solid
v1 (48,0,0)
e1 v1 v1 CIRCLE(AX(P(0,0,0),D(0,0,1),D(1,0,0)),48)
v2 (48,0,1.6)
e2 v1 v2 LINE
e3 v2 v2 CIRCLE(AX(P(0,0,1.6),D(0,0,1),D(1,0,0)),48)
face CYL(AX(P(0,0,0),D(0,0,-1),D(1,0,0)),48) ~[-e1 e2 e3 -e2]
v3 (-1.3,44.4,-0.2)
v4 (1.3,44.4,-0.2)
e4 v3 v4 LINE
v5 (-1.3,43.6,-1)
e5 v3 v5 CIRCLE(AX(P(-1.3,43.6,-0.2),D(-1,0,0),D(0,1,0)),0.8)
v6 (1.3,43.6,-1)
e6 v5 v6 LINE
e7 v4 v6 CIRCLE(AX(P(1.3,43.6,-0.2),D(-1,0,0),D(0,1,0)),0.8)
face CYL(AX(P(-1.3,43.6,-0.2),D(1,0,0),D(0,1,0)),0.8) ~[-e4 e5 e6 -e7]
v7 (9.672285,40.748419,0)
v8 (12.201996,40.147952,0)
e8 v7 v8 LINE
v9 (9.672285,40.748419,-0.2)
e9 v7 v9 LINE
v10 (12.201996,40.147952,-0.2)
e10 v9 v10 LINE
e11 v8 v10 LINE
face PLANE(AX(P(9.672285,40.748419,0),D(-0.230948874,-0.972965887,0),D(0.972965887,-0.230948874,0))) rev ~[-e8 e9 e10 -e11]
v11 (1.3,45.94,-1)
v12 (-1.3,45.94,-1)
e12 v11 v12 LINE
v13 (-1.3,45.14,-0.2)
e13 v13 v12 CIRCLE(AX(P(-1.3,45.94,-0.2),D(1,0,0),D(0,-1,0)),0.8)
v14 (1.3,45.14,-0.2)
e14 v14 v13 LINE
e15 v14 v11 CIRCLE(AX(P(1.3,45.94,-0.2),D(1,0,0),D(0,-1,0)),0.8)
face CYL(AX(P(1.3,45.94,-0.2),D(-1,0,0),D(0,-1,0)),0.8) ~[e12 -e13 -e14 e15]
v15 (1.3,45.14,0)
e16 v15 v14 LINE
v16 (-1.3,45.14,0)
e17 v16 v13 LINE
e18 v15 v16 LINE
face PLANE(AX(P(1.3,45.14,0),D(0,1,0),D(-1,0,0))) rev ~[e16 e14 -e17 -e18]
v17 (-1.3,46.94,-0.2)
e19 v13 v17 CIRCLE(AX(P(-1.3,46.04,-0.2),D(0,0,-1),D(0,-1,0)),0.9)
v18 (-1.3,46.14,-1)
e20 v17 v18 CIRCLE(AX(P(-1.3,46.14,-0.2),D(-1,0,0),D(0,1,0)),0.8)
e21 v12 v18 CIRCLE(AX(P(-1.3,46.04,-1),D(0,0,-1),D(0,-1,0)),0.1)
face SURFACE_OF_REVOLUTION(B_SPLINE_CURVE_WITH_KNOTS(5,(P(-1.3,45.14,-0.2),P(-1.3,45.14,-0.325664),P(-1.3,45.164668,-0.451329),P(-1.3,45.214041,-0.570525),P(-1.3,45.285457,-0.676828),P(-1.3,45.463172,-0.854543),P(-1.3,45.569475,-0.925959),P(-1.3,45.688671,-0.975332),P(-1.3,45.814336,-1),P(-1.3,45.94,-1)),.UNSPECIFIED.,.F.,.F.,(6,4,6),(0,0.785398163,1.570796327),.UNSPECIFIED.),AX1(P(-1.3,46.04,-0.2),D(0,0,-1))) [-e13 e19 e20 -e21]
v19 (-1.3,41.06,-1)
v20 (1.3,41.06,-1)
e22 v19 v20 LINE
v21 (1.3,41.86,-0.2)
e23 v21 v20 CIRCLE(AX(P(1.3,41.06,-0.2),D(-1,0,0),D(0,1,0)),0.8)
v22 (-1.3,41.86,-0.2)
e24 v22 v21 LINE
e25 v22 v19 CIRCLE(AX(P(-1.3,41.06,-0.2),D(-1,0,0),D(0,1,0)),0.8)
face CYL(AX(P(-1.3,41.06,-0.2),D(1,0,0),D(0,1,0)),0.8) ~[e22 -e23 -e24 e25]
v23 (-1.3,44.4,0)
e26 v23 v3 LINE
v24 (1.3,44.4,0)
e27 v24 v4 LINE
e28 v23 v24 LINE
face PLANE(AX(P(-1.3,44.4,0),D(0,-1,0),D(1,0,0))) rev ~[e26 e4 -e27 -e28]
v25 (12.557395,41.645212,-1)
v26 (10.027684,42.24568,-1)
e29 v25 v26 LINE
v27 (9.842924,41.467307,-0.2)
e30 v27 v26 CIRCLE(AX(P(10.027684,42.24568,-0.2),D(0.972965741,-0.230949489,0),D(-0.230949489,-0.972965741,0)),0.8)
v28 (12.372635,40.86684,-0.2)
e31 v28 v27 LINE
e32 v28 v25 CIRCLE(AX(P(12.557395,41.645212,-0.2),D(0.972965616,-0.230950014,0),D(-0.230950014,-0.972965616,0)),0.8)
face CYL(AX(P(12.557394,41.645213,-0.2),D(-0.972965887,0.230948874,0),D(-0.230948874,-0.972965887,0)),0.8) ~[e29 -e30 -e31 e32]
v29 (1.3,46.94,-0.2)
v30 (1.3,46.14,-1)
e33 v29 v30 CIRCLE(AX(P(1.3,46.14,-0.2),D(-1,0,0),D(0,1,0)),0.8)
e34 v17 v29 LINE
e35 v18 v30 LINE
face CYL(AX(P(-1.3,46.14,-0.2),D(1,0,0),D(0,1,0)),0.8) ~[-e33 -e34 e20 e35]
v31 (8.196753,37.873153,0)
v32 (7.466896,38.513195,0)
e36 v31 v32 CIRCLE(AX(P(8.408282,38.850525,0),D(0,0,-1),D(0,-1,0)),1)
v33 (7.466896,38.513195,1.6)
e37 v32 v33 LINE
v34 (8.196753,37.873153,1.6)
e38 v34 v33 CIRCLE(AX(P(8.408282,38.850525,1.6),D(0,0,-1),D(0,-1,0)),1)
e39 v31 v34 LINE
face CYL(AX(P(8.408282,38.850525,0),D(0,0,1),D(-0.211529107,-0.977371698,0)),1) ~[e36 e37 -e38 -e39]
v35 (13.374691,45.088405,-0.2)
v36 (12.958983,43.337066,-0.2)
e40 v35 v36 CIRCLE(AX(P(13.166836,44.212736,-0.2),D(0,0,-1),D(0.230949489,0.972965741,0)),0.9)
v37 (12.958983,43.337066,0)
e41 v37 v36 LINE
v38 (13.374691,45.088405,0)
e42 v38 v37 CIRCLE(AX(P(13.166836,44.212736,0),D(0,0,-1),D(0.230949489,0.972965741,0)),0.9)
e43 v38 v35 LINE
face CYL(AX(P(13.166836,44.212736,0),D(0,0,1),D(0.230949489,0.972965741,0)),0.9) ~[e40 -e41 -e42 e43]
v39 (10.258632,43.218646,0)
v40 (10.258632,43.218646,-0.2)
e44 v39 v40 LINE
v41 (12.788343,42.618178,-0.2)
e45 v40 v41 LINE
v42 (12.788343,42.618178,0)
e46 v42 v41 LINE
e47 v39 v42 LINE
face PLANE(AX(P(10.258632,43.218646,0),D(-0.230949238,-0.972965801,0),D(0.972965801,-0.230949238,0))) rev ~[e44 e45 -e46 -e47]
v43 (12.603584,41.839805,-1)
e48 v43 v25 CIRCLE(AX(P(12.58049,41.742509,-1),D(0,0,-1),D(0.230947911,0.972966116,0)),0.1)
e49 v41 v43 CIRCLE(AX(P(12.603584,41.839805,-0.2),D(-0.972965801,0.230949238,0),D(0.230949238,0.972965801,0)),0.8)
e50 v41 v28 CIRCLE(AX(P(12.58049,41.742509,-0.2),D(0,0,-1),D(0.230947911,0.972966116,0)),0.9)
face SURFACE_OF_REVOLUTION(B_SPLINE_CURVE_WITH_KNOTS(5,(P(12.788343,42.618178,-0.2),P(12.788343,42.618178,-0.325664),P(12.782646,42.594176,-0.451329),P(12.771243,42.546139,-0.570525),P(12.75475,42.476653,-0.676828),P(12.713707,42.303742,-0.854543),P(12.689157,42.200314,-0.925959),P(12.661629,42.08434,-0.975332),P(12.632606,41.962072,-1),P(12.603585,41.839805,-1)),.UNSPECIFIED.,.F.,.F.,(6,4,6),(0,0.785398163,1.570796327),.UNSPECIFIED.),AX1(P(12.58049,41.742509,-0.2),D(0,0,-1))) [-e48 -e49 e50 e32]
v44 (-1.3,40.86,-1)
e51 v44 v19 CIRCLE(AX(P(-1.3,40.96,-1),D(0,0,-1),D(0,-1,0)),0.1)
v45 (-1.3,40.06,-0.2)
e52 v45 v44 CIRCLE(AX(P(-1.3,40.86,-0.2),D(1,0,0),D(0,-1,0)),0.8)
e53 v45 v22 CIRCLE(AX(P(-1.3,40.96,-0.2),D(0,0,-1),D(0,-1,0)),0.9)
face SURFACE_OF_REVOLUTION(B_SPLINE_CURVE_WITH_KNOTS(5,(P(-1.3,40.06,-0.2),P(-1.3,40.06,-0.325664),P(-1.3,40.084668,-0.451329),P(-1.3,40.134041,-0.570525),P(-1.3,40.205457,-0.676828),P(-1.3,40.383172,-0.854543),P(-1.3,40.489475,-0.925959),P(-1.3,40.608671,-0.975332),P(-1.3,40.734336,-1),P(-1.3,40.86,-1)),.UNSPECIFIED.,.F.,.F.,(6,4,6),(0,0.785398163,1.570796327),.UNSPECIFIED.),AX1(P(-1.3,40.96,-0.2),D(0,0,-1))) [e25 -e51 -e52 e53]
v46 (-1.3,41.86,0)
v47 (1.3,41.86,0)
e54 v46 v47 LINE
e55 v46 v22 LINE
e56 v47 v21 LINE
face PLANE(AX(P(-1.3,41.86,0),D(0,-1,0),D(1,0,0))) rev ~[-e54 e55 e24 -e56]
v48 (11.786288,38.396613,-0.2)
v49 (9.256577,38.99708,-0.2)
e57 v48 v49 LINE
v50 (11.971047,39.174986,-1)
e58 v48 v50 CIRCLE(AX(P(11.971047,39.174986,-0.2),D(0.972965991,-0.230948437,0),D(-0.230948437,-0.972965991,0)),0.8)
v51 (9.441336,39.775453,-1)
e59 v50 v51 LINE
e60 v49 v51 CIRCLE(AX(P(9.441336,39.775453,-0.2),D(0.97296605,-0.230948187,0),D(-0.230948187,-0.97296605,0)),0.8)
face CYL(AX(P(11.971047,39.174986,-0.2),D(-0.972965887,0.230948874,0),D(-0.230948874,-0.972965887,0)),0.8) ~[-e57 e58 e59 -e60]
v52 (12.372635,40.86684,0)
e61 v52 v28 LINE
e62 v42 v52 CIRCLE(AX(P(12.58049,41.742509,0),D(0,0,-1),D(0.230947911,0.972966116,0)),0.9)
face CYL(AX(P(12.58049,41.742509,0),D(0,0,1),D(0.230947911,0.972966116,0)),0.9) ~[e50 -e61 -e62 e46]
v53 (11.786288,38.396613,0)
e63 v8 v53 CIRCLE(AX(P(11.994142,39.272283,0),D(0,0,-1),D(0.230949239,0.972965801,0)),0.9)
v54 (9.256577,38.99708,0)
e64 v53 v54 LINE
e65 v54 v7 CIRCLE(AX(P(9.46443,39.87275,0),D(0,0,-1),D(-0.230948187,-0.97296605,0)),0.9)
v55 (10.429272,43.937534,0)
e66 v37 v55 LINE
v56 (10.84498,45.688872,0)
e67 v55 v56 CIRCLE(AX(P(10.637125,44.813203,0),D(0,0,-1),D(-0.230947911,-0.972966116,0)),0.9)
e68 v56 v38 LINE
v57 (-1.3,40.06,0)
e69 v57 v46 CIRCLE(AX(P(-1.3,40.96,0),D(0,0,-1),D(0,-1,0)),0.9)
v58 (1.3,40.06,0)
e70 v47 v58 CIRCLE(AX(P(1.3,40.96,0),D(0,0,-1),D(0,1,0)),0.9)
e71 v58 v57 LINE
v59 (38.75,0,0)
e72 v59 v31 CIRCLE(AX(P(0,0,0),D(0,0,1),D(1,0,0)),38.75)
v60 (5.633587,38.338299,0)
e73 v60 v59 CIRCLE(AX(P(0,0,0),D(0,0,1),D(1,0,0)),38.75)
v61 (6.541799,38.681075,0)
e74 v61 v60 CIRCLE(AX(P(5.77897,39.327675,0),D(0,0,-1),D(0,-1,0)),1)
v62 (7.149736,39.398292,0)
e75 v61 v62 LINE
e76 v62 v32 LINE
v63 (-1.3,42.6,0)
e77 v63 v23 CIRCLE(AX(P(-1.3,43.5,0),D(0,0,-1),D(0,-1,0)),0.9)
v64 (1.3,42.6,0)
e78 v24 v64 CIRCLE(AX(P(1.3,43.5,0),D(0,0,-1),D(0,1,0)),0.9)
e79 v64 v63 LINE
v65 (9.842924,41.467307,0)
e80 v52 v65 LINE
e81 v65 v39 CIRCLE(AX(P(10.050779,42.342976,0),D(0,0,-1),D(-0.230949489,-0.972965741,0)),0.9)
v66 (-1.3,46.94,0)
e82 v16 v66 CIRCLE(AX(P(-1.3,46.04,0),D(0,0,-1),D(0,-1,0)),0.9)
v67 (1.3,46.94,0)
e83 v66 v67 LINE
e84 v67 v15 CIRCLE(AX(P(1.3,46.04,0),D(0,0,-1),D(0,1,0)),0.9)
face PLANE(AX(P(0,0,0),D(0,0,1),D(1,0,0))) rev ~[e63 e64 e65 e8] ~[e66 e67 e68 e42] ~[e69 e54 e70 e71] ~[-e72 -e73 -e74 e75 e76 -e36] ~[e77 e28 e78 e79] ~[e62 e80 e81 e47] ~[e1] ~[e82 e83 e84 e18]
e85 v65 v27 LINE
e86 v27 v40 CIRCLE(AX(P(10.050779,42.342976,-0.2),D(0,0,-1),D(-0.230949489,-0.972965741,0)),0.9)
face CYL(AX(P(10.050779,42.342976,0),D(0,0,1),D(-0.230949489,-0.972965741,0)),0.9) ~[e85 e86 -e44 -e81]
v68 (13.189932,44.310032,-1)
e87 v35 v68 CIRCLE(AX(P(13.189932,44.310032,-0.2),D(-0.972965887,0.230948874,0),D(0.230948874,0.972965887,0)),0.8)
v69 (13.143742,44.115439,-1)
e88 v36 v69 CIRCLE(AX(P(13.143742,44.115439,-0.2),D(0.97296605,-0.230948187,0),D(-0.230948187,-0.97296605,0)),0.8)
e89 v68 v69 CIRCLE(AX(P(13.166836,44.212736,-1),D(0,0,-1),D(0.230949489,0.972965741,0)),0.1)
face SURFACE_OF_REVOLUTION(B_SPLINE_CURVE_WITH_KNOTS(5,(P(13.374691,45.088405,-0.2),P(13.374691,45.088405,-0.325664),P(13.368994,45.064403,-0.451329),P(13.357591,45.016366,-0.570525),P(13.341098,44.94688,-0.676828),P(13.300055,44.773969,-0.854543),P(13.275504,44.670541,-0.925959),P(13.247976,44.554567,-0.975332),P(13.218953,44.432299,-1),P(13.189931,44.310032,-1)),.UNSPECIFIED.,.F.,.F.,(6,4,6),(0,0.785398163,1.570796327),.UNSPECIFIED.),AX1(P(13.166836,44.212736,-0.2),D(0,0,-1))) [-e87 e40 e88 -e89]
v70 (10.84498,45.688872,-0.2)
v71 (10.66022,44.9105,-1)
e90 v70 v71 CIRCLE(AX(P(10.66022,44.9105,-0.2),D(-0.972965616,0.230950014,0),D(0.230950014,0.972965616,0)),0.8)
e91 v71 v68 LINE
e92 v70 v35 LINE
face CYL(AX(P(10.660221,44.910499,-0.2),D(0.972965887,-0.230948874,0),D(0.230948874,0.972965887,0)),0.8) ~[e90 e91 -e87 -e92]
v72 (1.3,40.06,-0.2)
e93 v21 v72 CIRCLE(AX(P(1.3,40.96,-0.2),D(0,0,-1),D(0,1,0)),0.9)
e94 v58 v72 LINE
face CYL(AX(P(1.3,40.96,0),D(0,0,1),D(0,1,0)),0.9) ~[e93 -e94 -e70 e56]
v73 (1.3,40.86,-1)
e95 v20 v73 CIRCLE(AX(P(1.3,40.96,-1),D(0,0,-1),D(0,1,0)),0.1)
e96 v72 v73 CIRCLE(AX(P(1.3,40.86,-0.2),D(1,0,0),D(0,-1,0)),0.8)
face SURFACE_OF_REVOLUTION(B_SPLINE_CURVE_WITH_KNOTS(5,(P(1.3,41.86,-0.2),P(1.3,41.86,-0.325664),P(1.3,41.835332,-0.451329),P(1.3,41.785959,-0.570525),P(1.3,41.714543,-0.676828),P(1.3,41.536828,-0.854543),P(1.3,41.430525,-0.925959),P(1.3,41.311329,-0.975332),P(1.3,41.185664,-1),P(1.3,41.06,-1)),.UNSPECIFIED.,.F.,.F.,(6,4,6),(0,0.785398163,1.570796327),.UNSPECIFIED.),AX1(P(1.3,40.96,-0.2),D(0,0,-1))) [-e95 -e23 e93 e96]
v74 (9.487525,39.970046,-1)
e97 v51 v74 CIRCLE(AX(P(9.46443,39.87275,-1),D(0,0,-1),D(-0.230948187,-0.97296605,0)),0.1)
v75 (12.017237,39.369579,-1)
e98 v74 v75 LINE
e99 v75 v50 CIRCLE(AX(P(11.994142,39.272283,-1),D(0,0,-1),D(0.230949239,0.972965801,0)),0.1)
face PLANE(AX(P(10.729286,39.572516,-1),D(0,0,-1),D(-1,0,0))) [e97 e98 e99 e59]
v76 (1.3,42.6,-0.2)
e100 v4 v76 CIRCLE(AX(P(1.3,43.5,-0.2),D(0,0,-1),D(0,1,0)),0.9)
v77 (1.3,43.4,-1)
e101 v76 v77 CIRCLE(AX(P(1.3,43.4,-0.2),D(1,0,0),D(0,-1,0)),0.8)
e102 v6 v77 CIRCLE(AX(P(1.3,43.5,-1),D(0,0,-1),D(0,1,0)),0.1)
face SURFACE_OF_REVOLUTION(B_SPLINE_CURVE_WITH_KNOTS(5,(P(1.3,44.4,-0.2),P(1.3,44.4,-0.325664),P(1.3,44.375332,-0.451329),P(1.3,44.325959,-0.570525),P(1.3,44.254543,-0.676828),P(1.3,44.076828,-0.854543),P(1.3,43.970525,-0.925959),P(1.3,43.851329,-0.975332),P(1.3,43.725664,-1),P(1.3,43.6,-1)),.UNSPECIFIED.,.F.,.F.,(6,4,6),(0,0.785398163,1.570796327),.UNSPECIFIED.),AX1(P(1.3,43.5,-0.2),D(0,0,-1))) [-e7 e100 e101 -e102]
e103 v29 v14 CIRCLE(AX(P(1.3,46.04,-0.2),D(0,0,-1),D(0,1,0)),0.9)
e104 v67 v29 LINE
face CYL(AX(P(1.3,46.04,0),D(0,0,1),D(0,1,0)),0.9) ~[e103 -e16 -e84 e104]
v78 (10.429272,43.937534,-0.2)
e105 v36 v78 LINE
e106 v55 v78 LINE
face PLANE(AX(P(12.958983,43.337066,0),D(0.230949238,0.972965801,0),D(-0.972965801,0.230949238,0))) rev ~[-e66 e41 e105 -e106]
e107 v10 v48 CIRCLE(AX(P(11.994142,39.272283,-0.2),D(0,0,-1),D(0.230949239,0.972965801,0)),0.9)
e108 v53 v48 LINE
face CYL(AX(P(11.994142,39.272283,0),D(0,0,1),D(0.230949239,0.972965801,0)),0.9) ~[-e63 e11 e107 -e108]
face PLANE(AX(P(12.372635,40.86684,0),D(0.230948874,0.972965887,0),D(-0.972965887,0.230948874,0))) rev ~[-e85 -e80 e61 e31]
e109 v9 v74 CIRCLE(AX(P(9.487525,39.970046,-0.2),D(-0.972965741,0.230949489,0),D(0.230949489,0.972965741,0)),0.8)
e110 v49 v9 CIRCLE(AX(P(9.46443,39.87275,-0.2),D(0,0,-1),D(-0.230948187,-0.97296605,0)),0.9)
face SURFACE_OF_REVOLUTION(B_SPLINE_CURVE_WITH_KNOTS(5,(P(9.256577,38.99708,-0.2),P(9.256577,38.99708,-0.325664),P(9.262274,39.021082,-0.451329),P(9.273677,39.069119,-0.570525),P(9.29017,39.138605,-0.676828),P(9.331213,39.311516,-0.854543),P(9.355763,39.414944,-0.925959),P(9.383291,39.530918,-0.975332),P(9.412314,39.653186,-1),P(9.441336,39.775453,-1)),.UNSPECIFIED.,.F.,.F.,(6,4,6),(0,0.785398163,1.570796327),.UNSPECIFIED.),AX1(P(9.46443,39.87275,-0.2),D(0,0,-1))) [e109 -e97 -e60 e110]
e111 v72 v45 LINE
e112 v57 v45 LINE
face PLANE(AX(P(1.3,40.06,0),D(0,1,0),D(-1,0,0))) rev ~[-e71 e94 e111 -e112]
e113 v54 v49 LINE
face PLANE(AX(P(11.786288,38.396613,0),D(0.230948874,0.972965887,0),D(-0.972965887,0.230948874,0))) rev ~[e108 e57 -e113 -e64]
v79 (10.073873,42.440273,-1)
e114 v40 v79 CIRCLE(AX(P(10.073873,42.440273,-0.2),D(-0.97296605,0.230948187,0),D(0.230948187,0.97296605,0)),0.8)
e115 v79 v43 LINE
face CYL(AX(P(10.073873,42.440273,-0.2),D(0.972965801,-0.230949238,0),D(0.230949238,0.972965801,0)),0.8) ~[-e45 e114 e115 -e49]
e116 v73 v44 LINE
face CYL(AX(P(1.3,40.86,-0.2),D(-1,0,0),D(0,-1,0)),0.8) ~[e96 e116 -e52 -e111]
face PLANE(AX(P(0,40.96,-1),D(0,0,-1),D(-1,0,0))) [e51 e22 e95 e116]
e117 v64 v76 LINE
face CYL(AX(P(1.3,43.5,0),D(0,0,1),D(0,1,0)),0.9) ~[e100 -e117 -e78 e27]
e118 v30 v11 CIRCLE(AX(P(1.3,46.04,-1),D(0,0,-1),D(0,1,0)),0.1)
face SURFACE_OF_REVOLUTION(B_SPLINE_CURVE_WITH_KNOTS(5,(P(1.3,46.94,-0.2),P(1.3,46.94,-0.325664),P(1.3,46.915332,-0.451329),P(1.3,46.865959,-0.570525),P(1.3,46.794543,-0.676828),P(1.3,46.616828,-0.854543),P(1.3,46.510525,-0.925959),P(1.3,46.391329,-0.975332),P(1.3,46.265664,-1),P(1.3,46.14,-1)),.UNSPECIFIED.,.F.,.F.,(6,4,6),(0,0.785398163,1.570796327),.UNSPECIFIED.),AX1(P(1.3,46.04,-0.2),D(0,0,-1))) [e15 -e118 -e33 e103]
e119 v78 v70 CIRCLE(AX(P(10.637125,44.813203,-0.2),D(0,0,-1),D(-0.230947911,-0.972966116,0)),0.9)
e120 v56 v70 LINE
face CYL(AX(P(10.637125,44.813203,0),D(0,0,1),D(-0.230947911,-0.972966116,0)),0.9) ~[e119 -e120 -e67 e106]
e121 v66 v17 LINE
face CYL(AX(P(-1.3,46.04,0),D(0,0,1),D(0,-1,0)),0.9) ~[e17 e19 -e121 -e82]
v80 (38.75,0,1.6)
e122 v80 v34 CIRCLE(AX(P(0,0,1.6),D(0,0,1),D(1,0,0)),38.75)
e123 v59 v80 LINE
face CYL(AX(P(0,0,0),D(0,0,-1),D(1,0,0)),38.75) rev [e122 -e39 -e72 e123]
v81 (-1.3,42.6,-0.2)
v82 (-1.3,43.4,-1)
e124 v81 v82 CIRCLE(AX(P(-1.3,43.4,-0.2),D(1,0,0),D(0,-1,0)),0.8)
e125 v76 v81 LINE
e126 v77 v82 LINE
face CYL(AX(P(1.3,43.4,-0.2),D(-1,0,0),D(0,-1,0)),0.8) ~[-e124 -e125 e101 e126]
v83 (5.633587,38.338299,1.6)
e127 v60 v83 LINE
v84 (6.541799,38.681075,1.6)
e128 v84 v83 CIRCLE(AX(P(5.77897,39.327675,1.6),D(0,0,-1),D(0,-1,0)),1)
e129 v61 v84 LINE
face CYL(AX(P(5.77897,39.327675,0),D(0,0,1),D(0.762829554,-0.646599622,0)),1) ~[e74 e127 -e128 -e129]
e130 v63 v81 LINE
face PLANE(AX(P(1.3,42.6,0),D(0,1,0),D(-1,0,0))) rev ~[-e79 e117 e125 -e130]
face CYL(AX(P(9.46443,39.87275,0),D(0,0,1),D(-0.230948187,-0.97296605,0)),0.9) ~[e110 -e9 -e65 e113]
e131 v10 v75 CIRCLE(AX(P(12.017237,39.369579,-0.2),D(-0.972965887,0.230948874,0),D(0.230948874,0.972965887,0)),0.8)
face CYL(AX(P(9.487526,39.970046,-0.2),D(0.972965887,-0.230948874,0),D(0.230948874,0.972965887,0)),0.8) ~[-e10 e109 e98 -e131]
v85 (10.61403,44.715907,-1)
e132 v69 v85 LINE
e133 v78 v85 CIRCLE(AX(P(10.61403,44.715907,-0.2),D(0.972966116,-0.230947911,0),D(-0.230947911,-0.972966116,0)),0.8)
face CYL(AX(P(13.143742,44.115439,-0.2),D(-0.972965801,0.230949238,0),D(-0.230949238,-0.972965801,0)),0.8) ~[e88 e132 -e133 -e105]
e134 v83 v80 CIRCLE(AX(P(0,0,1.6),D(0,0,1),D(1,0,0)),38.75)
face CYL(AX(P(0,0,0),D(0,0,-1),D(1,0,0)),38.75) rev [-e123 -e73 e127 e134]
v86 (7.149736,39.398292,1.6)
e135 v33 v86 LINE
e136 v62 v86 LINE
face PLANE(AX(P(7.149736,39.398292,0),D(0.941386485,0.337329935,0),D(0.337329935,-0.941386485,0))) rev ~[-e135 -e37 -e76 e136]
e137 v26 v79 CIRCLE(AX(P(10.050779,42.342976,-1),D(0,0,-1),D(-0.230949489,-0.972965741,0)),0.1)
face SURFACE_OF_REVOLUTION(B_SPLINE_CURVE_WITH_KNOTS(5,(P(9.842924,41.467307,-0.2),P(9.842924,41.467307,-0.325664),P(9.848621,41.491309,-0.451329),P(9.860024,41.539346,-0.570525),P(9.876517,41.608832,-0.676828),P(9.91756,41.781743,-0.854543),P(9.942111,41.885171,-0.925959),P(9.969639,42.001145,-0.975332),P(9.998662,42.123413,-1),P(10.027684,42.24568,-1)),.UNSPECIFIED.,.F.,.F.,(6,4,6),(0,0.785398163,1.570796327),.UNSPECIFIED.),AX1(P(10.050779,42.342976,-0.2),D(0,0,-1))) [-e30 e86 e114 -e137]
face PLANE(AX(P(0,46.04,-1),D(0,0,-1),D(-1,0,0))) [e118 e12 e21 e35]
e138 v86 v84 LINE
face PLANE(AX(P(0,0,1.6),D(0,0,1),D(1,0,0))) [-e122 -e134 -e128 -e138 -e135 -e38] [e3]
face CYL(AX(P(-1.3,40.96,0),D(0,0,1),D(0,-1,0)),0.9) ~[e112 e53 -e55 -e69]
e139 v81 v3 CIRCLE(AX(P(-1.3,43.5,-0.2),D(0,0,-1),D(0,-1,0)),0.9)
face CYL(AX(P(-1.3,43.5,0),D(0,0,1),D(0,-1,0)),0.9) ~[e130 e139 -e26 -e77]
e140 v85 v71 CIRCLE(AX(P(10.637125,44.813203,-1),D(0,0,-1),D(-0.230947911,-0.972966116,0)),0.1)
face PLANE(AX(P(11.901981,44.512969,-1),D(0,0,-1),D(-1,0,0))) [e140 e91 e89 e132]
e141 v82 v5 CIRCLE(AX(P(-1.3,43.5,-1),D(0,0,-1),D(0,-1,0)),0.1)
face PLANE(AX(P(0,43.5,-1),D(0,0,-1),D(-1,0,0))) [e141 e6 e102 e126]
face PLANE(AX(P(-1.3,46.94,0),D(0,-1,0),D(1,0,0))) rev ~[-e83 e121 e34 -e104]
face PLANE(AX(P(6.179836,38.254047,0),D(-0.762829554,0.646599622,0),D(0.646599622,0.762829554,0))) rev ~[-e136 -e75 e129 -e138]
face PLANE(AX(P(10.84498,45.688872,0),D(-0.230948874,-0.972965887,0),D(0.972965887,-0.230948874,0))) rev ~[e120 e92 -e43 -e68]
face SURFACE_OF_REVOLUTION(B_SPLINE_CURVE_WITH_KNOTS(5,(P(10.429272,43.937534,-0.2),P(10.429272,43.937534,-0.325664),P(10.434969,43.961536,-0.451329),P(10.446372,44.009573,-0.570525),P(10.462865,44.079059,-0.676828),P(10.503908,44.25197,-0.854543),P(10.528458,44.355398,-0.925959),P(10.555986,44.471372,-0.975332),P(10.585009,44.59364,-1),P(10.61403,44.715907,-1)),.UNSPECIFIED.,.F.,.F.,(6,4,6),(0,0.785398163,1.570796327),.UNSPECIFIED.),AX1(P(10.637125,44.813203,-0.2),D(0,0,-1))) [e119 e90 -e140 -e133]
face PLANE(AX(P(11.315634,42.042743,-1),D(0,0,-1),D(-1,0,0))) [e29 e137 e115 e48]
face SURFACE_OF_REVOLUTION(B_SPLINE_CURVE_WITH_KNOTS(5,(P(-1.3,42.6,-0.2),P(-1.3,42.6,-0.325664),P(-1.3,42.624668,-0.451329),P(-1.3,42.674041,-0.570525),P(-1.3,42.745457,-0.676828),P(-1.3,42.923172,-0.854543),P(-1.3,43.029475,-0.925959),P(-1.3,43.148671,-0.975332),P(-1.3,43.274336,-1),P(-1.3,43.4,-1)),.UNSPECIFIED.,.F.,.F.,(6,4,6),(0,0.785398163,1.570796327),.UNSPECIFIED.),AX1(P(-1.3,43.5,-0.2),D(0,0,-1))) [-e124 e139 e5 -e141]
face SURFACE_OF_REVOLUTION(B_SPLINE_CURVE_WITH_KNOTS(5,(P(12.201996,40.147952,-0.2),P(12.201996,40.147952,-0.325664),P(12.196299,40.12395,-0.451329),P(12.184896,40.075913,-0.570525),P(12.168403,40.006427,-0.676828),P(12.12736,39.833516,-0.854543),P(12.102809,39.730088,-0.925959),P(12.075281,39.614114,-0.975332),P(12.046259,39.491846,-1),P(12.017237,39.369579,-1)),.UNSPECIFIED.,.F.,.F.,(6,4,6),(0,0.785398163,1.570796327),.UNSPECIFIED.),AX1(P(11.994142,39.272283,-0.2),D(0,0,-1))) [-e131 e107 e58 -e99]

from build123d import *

# Parameters (mm, degrees)
SKETCH054_R     = 48
SKETCH054_R_2   = 38.75
PAD029_DEPTH    = 1.6
PAD030_DEPTH    = 1
FILLET018_R     = 0.8
POCKET029_DEPTH = 5
FILLET020_R     = 1


with BuildPart() as part:
    # Sketch054 → Pad029 (new body)
    with BuildSketch(Plane.XY):
        Circle(SKETCH054_R)
        Circle(SKETCH054_R_2, mode=Mode.SUBTRACT)
    extrude(amount=PAD029_DEPTH)

    # Sketch055 → Pad030 (join)
    with BuildSketch(Plane(origin=(0, 0, 0), x_dir=(-1, 0, 0), z_dir=(0, 0, -1))):
        with BuildLine():
            ThreePointArc((-1.3, 46.94), (-2.2, 46.04), (-1.3, 45.14))
            Line((-1.3, 45.14), (1.3, 45.14))
            ThreePointArc((1.3, 45.14), (2.2, 46.04), (1.3, 46.94))
            Line((1.3, 46.94), (-1.3, 46.94))
        make_face()
        with BuildLine():
            ThreePointArc((-1.3, 44.4), (-2.2, 43.5), (-1.3, 42.6))
            Line((-1.3, 42.6), (1.3, 42.6))
            ThreePointArc((1.3, 42.6), (2.2, 43.5), (1.3, 44.4))
            Line((1.3, 44.4), (-1.3, 44.4))
        make_face()
        with BuildLine():
            ThreePointArc((-1.3, 41.86), (-2.2, 40.96), (-1.3, 40.06))
            Line((-1.3, 40.06), (1.3, 40.06))
            ThreePointArc((1.3, 40.06), (2.2, 40.96), (1.3, 41.86))
            Line((1.3, 41.86), (-1.3, 41.86))
        make_face()
        with BuildLine():
            ThreePointArc((-13.374691, 45.088405), (-14.042506, 44.004882), (-12.958983, 43.337066))
            Line((-12.958983, 43.337066), (-10.429272, 43.937534))
            ThreePointArc((-10.429272, 43.937534), (-9.761456, 45.021057), (-10.84498, 45.688872))
            Line((-10.84498, 45.688872), (-13.374691, 45.088405))
        make_face()
        with BuildLine():
            ThreePointArc((-12.788343, 42.618178), (-13.456159, 41.534655), (-12.372635, 40.86684))
            Line((-12.372635, 40.86684), (-9.842924, 41.467307))
            ThreePointArc((-9.842924, 41.467307), (-9.175109, 42.55083), (-10.258632, 43.218646))
            Line((-10.258632, 43.218646), (-12.788343, 42.618178))
        make_face()
        with BuildLine():
            ThreePointArc((-12.201996, 40.147952), (-12.869811, 39.064428), (-11.786288, 38.396613))
            Line((-11.786288, 38.396613), (-9.256577, 38.99708))
            ThreePointArc((-9.256577, 38.99708), (-8.588761, 40.080604), (-9.672285, 40.748419))
            Line((-9.672285, 40.748419), (-12.201996, 40.147952))
        make_face()
    extrude(amount=PAD030_DEPTH)

    # Fillet018
    fillet018_edges = [part.edges().sort_by_distance(p)[0] for p in [
        (9.761456, 45.021057, -1),
        (9.175109, 42.55083, -1),
        (8.588761, 40.080604, -1),
        (-2.2, 40.96, -1),
        (-2.2, 43.5, -1),
        (-2.2, 46.04, -1),
    ]]
    fillet(fillet018_edges, radius=FILLET018_R)

    # Sketch060 → Pocket029 (cut)
    with BuildSketch(Plane.XY):
        with BuildLine():
            ThreePointArc((7.655731, 37.986212), (6.919079, 38.127272), (6.179836, 38.254047))
            Line((6.179836, 38.254047), (7.149736, 39.398292))
            Line((7.149736, 39.398292), (7.655731, 37.986212))
        make_face()
    extrude(amount=POCKET029_DEPTH, mode=Mode.SUBTRACT)

    # Fillet020
    fillet020_edges = [part.edges().sort_by_distance(p)[0] for p in [
        (7.655731, 37.986212, 0.8),
        (6.179836, 38.254047, 0.8),
    ]]
    fillet(fillet020_edges, radius=FILLET020_R)


solid = part.part
